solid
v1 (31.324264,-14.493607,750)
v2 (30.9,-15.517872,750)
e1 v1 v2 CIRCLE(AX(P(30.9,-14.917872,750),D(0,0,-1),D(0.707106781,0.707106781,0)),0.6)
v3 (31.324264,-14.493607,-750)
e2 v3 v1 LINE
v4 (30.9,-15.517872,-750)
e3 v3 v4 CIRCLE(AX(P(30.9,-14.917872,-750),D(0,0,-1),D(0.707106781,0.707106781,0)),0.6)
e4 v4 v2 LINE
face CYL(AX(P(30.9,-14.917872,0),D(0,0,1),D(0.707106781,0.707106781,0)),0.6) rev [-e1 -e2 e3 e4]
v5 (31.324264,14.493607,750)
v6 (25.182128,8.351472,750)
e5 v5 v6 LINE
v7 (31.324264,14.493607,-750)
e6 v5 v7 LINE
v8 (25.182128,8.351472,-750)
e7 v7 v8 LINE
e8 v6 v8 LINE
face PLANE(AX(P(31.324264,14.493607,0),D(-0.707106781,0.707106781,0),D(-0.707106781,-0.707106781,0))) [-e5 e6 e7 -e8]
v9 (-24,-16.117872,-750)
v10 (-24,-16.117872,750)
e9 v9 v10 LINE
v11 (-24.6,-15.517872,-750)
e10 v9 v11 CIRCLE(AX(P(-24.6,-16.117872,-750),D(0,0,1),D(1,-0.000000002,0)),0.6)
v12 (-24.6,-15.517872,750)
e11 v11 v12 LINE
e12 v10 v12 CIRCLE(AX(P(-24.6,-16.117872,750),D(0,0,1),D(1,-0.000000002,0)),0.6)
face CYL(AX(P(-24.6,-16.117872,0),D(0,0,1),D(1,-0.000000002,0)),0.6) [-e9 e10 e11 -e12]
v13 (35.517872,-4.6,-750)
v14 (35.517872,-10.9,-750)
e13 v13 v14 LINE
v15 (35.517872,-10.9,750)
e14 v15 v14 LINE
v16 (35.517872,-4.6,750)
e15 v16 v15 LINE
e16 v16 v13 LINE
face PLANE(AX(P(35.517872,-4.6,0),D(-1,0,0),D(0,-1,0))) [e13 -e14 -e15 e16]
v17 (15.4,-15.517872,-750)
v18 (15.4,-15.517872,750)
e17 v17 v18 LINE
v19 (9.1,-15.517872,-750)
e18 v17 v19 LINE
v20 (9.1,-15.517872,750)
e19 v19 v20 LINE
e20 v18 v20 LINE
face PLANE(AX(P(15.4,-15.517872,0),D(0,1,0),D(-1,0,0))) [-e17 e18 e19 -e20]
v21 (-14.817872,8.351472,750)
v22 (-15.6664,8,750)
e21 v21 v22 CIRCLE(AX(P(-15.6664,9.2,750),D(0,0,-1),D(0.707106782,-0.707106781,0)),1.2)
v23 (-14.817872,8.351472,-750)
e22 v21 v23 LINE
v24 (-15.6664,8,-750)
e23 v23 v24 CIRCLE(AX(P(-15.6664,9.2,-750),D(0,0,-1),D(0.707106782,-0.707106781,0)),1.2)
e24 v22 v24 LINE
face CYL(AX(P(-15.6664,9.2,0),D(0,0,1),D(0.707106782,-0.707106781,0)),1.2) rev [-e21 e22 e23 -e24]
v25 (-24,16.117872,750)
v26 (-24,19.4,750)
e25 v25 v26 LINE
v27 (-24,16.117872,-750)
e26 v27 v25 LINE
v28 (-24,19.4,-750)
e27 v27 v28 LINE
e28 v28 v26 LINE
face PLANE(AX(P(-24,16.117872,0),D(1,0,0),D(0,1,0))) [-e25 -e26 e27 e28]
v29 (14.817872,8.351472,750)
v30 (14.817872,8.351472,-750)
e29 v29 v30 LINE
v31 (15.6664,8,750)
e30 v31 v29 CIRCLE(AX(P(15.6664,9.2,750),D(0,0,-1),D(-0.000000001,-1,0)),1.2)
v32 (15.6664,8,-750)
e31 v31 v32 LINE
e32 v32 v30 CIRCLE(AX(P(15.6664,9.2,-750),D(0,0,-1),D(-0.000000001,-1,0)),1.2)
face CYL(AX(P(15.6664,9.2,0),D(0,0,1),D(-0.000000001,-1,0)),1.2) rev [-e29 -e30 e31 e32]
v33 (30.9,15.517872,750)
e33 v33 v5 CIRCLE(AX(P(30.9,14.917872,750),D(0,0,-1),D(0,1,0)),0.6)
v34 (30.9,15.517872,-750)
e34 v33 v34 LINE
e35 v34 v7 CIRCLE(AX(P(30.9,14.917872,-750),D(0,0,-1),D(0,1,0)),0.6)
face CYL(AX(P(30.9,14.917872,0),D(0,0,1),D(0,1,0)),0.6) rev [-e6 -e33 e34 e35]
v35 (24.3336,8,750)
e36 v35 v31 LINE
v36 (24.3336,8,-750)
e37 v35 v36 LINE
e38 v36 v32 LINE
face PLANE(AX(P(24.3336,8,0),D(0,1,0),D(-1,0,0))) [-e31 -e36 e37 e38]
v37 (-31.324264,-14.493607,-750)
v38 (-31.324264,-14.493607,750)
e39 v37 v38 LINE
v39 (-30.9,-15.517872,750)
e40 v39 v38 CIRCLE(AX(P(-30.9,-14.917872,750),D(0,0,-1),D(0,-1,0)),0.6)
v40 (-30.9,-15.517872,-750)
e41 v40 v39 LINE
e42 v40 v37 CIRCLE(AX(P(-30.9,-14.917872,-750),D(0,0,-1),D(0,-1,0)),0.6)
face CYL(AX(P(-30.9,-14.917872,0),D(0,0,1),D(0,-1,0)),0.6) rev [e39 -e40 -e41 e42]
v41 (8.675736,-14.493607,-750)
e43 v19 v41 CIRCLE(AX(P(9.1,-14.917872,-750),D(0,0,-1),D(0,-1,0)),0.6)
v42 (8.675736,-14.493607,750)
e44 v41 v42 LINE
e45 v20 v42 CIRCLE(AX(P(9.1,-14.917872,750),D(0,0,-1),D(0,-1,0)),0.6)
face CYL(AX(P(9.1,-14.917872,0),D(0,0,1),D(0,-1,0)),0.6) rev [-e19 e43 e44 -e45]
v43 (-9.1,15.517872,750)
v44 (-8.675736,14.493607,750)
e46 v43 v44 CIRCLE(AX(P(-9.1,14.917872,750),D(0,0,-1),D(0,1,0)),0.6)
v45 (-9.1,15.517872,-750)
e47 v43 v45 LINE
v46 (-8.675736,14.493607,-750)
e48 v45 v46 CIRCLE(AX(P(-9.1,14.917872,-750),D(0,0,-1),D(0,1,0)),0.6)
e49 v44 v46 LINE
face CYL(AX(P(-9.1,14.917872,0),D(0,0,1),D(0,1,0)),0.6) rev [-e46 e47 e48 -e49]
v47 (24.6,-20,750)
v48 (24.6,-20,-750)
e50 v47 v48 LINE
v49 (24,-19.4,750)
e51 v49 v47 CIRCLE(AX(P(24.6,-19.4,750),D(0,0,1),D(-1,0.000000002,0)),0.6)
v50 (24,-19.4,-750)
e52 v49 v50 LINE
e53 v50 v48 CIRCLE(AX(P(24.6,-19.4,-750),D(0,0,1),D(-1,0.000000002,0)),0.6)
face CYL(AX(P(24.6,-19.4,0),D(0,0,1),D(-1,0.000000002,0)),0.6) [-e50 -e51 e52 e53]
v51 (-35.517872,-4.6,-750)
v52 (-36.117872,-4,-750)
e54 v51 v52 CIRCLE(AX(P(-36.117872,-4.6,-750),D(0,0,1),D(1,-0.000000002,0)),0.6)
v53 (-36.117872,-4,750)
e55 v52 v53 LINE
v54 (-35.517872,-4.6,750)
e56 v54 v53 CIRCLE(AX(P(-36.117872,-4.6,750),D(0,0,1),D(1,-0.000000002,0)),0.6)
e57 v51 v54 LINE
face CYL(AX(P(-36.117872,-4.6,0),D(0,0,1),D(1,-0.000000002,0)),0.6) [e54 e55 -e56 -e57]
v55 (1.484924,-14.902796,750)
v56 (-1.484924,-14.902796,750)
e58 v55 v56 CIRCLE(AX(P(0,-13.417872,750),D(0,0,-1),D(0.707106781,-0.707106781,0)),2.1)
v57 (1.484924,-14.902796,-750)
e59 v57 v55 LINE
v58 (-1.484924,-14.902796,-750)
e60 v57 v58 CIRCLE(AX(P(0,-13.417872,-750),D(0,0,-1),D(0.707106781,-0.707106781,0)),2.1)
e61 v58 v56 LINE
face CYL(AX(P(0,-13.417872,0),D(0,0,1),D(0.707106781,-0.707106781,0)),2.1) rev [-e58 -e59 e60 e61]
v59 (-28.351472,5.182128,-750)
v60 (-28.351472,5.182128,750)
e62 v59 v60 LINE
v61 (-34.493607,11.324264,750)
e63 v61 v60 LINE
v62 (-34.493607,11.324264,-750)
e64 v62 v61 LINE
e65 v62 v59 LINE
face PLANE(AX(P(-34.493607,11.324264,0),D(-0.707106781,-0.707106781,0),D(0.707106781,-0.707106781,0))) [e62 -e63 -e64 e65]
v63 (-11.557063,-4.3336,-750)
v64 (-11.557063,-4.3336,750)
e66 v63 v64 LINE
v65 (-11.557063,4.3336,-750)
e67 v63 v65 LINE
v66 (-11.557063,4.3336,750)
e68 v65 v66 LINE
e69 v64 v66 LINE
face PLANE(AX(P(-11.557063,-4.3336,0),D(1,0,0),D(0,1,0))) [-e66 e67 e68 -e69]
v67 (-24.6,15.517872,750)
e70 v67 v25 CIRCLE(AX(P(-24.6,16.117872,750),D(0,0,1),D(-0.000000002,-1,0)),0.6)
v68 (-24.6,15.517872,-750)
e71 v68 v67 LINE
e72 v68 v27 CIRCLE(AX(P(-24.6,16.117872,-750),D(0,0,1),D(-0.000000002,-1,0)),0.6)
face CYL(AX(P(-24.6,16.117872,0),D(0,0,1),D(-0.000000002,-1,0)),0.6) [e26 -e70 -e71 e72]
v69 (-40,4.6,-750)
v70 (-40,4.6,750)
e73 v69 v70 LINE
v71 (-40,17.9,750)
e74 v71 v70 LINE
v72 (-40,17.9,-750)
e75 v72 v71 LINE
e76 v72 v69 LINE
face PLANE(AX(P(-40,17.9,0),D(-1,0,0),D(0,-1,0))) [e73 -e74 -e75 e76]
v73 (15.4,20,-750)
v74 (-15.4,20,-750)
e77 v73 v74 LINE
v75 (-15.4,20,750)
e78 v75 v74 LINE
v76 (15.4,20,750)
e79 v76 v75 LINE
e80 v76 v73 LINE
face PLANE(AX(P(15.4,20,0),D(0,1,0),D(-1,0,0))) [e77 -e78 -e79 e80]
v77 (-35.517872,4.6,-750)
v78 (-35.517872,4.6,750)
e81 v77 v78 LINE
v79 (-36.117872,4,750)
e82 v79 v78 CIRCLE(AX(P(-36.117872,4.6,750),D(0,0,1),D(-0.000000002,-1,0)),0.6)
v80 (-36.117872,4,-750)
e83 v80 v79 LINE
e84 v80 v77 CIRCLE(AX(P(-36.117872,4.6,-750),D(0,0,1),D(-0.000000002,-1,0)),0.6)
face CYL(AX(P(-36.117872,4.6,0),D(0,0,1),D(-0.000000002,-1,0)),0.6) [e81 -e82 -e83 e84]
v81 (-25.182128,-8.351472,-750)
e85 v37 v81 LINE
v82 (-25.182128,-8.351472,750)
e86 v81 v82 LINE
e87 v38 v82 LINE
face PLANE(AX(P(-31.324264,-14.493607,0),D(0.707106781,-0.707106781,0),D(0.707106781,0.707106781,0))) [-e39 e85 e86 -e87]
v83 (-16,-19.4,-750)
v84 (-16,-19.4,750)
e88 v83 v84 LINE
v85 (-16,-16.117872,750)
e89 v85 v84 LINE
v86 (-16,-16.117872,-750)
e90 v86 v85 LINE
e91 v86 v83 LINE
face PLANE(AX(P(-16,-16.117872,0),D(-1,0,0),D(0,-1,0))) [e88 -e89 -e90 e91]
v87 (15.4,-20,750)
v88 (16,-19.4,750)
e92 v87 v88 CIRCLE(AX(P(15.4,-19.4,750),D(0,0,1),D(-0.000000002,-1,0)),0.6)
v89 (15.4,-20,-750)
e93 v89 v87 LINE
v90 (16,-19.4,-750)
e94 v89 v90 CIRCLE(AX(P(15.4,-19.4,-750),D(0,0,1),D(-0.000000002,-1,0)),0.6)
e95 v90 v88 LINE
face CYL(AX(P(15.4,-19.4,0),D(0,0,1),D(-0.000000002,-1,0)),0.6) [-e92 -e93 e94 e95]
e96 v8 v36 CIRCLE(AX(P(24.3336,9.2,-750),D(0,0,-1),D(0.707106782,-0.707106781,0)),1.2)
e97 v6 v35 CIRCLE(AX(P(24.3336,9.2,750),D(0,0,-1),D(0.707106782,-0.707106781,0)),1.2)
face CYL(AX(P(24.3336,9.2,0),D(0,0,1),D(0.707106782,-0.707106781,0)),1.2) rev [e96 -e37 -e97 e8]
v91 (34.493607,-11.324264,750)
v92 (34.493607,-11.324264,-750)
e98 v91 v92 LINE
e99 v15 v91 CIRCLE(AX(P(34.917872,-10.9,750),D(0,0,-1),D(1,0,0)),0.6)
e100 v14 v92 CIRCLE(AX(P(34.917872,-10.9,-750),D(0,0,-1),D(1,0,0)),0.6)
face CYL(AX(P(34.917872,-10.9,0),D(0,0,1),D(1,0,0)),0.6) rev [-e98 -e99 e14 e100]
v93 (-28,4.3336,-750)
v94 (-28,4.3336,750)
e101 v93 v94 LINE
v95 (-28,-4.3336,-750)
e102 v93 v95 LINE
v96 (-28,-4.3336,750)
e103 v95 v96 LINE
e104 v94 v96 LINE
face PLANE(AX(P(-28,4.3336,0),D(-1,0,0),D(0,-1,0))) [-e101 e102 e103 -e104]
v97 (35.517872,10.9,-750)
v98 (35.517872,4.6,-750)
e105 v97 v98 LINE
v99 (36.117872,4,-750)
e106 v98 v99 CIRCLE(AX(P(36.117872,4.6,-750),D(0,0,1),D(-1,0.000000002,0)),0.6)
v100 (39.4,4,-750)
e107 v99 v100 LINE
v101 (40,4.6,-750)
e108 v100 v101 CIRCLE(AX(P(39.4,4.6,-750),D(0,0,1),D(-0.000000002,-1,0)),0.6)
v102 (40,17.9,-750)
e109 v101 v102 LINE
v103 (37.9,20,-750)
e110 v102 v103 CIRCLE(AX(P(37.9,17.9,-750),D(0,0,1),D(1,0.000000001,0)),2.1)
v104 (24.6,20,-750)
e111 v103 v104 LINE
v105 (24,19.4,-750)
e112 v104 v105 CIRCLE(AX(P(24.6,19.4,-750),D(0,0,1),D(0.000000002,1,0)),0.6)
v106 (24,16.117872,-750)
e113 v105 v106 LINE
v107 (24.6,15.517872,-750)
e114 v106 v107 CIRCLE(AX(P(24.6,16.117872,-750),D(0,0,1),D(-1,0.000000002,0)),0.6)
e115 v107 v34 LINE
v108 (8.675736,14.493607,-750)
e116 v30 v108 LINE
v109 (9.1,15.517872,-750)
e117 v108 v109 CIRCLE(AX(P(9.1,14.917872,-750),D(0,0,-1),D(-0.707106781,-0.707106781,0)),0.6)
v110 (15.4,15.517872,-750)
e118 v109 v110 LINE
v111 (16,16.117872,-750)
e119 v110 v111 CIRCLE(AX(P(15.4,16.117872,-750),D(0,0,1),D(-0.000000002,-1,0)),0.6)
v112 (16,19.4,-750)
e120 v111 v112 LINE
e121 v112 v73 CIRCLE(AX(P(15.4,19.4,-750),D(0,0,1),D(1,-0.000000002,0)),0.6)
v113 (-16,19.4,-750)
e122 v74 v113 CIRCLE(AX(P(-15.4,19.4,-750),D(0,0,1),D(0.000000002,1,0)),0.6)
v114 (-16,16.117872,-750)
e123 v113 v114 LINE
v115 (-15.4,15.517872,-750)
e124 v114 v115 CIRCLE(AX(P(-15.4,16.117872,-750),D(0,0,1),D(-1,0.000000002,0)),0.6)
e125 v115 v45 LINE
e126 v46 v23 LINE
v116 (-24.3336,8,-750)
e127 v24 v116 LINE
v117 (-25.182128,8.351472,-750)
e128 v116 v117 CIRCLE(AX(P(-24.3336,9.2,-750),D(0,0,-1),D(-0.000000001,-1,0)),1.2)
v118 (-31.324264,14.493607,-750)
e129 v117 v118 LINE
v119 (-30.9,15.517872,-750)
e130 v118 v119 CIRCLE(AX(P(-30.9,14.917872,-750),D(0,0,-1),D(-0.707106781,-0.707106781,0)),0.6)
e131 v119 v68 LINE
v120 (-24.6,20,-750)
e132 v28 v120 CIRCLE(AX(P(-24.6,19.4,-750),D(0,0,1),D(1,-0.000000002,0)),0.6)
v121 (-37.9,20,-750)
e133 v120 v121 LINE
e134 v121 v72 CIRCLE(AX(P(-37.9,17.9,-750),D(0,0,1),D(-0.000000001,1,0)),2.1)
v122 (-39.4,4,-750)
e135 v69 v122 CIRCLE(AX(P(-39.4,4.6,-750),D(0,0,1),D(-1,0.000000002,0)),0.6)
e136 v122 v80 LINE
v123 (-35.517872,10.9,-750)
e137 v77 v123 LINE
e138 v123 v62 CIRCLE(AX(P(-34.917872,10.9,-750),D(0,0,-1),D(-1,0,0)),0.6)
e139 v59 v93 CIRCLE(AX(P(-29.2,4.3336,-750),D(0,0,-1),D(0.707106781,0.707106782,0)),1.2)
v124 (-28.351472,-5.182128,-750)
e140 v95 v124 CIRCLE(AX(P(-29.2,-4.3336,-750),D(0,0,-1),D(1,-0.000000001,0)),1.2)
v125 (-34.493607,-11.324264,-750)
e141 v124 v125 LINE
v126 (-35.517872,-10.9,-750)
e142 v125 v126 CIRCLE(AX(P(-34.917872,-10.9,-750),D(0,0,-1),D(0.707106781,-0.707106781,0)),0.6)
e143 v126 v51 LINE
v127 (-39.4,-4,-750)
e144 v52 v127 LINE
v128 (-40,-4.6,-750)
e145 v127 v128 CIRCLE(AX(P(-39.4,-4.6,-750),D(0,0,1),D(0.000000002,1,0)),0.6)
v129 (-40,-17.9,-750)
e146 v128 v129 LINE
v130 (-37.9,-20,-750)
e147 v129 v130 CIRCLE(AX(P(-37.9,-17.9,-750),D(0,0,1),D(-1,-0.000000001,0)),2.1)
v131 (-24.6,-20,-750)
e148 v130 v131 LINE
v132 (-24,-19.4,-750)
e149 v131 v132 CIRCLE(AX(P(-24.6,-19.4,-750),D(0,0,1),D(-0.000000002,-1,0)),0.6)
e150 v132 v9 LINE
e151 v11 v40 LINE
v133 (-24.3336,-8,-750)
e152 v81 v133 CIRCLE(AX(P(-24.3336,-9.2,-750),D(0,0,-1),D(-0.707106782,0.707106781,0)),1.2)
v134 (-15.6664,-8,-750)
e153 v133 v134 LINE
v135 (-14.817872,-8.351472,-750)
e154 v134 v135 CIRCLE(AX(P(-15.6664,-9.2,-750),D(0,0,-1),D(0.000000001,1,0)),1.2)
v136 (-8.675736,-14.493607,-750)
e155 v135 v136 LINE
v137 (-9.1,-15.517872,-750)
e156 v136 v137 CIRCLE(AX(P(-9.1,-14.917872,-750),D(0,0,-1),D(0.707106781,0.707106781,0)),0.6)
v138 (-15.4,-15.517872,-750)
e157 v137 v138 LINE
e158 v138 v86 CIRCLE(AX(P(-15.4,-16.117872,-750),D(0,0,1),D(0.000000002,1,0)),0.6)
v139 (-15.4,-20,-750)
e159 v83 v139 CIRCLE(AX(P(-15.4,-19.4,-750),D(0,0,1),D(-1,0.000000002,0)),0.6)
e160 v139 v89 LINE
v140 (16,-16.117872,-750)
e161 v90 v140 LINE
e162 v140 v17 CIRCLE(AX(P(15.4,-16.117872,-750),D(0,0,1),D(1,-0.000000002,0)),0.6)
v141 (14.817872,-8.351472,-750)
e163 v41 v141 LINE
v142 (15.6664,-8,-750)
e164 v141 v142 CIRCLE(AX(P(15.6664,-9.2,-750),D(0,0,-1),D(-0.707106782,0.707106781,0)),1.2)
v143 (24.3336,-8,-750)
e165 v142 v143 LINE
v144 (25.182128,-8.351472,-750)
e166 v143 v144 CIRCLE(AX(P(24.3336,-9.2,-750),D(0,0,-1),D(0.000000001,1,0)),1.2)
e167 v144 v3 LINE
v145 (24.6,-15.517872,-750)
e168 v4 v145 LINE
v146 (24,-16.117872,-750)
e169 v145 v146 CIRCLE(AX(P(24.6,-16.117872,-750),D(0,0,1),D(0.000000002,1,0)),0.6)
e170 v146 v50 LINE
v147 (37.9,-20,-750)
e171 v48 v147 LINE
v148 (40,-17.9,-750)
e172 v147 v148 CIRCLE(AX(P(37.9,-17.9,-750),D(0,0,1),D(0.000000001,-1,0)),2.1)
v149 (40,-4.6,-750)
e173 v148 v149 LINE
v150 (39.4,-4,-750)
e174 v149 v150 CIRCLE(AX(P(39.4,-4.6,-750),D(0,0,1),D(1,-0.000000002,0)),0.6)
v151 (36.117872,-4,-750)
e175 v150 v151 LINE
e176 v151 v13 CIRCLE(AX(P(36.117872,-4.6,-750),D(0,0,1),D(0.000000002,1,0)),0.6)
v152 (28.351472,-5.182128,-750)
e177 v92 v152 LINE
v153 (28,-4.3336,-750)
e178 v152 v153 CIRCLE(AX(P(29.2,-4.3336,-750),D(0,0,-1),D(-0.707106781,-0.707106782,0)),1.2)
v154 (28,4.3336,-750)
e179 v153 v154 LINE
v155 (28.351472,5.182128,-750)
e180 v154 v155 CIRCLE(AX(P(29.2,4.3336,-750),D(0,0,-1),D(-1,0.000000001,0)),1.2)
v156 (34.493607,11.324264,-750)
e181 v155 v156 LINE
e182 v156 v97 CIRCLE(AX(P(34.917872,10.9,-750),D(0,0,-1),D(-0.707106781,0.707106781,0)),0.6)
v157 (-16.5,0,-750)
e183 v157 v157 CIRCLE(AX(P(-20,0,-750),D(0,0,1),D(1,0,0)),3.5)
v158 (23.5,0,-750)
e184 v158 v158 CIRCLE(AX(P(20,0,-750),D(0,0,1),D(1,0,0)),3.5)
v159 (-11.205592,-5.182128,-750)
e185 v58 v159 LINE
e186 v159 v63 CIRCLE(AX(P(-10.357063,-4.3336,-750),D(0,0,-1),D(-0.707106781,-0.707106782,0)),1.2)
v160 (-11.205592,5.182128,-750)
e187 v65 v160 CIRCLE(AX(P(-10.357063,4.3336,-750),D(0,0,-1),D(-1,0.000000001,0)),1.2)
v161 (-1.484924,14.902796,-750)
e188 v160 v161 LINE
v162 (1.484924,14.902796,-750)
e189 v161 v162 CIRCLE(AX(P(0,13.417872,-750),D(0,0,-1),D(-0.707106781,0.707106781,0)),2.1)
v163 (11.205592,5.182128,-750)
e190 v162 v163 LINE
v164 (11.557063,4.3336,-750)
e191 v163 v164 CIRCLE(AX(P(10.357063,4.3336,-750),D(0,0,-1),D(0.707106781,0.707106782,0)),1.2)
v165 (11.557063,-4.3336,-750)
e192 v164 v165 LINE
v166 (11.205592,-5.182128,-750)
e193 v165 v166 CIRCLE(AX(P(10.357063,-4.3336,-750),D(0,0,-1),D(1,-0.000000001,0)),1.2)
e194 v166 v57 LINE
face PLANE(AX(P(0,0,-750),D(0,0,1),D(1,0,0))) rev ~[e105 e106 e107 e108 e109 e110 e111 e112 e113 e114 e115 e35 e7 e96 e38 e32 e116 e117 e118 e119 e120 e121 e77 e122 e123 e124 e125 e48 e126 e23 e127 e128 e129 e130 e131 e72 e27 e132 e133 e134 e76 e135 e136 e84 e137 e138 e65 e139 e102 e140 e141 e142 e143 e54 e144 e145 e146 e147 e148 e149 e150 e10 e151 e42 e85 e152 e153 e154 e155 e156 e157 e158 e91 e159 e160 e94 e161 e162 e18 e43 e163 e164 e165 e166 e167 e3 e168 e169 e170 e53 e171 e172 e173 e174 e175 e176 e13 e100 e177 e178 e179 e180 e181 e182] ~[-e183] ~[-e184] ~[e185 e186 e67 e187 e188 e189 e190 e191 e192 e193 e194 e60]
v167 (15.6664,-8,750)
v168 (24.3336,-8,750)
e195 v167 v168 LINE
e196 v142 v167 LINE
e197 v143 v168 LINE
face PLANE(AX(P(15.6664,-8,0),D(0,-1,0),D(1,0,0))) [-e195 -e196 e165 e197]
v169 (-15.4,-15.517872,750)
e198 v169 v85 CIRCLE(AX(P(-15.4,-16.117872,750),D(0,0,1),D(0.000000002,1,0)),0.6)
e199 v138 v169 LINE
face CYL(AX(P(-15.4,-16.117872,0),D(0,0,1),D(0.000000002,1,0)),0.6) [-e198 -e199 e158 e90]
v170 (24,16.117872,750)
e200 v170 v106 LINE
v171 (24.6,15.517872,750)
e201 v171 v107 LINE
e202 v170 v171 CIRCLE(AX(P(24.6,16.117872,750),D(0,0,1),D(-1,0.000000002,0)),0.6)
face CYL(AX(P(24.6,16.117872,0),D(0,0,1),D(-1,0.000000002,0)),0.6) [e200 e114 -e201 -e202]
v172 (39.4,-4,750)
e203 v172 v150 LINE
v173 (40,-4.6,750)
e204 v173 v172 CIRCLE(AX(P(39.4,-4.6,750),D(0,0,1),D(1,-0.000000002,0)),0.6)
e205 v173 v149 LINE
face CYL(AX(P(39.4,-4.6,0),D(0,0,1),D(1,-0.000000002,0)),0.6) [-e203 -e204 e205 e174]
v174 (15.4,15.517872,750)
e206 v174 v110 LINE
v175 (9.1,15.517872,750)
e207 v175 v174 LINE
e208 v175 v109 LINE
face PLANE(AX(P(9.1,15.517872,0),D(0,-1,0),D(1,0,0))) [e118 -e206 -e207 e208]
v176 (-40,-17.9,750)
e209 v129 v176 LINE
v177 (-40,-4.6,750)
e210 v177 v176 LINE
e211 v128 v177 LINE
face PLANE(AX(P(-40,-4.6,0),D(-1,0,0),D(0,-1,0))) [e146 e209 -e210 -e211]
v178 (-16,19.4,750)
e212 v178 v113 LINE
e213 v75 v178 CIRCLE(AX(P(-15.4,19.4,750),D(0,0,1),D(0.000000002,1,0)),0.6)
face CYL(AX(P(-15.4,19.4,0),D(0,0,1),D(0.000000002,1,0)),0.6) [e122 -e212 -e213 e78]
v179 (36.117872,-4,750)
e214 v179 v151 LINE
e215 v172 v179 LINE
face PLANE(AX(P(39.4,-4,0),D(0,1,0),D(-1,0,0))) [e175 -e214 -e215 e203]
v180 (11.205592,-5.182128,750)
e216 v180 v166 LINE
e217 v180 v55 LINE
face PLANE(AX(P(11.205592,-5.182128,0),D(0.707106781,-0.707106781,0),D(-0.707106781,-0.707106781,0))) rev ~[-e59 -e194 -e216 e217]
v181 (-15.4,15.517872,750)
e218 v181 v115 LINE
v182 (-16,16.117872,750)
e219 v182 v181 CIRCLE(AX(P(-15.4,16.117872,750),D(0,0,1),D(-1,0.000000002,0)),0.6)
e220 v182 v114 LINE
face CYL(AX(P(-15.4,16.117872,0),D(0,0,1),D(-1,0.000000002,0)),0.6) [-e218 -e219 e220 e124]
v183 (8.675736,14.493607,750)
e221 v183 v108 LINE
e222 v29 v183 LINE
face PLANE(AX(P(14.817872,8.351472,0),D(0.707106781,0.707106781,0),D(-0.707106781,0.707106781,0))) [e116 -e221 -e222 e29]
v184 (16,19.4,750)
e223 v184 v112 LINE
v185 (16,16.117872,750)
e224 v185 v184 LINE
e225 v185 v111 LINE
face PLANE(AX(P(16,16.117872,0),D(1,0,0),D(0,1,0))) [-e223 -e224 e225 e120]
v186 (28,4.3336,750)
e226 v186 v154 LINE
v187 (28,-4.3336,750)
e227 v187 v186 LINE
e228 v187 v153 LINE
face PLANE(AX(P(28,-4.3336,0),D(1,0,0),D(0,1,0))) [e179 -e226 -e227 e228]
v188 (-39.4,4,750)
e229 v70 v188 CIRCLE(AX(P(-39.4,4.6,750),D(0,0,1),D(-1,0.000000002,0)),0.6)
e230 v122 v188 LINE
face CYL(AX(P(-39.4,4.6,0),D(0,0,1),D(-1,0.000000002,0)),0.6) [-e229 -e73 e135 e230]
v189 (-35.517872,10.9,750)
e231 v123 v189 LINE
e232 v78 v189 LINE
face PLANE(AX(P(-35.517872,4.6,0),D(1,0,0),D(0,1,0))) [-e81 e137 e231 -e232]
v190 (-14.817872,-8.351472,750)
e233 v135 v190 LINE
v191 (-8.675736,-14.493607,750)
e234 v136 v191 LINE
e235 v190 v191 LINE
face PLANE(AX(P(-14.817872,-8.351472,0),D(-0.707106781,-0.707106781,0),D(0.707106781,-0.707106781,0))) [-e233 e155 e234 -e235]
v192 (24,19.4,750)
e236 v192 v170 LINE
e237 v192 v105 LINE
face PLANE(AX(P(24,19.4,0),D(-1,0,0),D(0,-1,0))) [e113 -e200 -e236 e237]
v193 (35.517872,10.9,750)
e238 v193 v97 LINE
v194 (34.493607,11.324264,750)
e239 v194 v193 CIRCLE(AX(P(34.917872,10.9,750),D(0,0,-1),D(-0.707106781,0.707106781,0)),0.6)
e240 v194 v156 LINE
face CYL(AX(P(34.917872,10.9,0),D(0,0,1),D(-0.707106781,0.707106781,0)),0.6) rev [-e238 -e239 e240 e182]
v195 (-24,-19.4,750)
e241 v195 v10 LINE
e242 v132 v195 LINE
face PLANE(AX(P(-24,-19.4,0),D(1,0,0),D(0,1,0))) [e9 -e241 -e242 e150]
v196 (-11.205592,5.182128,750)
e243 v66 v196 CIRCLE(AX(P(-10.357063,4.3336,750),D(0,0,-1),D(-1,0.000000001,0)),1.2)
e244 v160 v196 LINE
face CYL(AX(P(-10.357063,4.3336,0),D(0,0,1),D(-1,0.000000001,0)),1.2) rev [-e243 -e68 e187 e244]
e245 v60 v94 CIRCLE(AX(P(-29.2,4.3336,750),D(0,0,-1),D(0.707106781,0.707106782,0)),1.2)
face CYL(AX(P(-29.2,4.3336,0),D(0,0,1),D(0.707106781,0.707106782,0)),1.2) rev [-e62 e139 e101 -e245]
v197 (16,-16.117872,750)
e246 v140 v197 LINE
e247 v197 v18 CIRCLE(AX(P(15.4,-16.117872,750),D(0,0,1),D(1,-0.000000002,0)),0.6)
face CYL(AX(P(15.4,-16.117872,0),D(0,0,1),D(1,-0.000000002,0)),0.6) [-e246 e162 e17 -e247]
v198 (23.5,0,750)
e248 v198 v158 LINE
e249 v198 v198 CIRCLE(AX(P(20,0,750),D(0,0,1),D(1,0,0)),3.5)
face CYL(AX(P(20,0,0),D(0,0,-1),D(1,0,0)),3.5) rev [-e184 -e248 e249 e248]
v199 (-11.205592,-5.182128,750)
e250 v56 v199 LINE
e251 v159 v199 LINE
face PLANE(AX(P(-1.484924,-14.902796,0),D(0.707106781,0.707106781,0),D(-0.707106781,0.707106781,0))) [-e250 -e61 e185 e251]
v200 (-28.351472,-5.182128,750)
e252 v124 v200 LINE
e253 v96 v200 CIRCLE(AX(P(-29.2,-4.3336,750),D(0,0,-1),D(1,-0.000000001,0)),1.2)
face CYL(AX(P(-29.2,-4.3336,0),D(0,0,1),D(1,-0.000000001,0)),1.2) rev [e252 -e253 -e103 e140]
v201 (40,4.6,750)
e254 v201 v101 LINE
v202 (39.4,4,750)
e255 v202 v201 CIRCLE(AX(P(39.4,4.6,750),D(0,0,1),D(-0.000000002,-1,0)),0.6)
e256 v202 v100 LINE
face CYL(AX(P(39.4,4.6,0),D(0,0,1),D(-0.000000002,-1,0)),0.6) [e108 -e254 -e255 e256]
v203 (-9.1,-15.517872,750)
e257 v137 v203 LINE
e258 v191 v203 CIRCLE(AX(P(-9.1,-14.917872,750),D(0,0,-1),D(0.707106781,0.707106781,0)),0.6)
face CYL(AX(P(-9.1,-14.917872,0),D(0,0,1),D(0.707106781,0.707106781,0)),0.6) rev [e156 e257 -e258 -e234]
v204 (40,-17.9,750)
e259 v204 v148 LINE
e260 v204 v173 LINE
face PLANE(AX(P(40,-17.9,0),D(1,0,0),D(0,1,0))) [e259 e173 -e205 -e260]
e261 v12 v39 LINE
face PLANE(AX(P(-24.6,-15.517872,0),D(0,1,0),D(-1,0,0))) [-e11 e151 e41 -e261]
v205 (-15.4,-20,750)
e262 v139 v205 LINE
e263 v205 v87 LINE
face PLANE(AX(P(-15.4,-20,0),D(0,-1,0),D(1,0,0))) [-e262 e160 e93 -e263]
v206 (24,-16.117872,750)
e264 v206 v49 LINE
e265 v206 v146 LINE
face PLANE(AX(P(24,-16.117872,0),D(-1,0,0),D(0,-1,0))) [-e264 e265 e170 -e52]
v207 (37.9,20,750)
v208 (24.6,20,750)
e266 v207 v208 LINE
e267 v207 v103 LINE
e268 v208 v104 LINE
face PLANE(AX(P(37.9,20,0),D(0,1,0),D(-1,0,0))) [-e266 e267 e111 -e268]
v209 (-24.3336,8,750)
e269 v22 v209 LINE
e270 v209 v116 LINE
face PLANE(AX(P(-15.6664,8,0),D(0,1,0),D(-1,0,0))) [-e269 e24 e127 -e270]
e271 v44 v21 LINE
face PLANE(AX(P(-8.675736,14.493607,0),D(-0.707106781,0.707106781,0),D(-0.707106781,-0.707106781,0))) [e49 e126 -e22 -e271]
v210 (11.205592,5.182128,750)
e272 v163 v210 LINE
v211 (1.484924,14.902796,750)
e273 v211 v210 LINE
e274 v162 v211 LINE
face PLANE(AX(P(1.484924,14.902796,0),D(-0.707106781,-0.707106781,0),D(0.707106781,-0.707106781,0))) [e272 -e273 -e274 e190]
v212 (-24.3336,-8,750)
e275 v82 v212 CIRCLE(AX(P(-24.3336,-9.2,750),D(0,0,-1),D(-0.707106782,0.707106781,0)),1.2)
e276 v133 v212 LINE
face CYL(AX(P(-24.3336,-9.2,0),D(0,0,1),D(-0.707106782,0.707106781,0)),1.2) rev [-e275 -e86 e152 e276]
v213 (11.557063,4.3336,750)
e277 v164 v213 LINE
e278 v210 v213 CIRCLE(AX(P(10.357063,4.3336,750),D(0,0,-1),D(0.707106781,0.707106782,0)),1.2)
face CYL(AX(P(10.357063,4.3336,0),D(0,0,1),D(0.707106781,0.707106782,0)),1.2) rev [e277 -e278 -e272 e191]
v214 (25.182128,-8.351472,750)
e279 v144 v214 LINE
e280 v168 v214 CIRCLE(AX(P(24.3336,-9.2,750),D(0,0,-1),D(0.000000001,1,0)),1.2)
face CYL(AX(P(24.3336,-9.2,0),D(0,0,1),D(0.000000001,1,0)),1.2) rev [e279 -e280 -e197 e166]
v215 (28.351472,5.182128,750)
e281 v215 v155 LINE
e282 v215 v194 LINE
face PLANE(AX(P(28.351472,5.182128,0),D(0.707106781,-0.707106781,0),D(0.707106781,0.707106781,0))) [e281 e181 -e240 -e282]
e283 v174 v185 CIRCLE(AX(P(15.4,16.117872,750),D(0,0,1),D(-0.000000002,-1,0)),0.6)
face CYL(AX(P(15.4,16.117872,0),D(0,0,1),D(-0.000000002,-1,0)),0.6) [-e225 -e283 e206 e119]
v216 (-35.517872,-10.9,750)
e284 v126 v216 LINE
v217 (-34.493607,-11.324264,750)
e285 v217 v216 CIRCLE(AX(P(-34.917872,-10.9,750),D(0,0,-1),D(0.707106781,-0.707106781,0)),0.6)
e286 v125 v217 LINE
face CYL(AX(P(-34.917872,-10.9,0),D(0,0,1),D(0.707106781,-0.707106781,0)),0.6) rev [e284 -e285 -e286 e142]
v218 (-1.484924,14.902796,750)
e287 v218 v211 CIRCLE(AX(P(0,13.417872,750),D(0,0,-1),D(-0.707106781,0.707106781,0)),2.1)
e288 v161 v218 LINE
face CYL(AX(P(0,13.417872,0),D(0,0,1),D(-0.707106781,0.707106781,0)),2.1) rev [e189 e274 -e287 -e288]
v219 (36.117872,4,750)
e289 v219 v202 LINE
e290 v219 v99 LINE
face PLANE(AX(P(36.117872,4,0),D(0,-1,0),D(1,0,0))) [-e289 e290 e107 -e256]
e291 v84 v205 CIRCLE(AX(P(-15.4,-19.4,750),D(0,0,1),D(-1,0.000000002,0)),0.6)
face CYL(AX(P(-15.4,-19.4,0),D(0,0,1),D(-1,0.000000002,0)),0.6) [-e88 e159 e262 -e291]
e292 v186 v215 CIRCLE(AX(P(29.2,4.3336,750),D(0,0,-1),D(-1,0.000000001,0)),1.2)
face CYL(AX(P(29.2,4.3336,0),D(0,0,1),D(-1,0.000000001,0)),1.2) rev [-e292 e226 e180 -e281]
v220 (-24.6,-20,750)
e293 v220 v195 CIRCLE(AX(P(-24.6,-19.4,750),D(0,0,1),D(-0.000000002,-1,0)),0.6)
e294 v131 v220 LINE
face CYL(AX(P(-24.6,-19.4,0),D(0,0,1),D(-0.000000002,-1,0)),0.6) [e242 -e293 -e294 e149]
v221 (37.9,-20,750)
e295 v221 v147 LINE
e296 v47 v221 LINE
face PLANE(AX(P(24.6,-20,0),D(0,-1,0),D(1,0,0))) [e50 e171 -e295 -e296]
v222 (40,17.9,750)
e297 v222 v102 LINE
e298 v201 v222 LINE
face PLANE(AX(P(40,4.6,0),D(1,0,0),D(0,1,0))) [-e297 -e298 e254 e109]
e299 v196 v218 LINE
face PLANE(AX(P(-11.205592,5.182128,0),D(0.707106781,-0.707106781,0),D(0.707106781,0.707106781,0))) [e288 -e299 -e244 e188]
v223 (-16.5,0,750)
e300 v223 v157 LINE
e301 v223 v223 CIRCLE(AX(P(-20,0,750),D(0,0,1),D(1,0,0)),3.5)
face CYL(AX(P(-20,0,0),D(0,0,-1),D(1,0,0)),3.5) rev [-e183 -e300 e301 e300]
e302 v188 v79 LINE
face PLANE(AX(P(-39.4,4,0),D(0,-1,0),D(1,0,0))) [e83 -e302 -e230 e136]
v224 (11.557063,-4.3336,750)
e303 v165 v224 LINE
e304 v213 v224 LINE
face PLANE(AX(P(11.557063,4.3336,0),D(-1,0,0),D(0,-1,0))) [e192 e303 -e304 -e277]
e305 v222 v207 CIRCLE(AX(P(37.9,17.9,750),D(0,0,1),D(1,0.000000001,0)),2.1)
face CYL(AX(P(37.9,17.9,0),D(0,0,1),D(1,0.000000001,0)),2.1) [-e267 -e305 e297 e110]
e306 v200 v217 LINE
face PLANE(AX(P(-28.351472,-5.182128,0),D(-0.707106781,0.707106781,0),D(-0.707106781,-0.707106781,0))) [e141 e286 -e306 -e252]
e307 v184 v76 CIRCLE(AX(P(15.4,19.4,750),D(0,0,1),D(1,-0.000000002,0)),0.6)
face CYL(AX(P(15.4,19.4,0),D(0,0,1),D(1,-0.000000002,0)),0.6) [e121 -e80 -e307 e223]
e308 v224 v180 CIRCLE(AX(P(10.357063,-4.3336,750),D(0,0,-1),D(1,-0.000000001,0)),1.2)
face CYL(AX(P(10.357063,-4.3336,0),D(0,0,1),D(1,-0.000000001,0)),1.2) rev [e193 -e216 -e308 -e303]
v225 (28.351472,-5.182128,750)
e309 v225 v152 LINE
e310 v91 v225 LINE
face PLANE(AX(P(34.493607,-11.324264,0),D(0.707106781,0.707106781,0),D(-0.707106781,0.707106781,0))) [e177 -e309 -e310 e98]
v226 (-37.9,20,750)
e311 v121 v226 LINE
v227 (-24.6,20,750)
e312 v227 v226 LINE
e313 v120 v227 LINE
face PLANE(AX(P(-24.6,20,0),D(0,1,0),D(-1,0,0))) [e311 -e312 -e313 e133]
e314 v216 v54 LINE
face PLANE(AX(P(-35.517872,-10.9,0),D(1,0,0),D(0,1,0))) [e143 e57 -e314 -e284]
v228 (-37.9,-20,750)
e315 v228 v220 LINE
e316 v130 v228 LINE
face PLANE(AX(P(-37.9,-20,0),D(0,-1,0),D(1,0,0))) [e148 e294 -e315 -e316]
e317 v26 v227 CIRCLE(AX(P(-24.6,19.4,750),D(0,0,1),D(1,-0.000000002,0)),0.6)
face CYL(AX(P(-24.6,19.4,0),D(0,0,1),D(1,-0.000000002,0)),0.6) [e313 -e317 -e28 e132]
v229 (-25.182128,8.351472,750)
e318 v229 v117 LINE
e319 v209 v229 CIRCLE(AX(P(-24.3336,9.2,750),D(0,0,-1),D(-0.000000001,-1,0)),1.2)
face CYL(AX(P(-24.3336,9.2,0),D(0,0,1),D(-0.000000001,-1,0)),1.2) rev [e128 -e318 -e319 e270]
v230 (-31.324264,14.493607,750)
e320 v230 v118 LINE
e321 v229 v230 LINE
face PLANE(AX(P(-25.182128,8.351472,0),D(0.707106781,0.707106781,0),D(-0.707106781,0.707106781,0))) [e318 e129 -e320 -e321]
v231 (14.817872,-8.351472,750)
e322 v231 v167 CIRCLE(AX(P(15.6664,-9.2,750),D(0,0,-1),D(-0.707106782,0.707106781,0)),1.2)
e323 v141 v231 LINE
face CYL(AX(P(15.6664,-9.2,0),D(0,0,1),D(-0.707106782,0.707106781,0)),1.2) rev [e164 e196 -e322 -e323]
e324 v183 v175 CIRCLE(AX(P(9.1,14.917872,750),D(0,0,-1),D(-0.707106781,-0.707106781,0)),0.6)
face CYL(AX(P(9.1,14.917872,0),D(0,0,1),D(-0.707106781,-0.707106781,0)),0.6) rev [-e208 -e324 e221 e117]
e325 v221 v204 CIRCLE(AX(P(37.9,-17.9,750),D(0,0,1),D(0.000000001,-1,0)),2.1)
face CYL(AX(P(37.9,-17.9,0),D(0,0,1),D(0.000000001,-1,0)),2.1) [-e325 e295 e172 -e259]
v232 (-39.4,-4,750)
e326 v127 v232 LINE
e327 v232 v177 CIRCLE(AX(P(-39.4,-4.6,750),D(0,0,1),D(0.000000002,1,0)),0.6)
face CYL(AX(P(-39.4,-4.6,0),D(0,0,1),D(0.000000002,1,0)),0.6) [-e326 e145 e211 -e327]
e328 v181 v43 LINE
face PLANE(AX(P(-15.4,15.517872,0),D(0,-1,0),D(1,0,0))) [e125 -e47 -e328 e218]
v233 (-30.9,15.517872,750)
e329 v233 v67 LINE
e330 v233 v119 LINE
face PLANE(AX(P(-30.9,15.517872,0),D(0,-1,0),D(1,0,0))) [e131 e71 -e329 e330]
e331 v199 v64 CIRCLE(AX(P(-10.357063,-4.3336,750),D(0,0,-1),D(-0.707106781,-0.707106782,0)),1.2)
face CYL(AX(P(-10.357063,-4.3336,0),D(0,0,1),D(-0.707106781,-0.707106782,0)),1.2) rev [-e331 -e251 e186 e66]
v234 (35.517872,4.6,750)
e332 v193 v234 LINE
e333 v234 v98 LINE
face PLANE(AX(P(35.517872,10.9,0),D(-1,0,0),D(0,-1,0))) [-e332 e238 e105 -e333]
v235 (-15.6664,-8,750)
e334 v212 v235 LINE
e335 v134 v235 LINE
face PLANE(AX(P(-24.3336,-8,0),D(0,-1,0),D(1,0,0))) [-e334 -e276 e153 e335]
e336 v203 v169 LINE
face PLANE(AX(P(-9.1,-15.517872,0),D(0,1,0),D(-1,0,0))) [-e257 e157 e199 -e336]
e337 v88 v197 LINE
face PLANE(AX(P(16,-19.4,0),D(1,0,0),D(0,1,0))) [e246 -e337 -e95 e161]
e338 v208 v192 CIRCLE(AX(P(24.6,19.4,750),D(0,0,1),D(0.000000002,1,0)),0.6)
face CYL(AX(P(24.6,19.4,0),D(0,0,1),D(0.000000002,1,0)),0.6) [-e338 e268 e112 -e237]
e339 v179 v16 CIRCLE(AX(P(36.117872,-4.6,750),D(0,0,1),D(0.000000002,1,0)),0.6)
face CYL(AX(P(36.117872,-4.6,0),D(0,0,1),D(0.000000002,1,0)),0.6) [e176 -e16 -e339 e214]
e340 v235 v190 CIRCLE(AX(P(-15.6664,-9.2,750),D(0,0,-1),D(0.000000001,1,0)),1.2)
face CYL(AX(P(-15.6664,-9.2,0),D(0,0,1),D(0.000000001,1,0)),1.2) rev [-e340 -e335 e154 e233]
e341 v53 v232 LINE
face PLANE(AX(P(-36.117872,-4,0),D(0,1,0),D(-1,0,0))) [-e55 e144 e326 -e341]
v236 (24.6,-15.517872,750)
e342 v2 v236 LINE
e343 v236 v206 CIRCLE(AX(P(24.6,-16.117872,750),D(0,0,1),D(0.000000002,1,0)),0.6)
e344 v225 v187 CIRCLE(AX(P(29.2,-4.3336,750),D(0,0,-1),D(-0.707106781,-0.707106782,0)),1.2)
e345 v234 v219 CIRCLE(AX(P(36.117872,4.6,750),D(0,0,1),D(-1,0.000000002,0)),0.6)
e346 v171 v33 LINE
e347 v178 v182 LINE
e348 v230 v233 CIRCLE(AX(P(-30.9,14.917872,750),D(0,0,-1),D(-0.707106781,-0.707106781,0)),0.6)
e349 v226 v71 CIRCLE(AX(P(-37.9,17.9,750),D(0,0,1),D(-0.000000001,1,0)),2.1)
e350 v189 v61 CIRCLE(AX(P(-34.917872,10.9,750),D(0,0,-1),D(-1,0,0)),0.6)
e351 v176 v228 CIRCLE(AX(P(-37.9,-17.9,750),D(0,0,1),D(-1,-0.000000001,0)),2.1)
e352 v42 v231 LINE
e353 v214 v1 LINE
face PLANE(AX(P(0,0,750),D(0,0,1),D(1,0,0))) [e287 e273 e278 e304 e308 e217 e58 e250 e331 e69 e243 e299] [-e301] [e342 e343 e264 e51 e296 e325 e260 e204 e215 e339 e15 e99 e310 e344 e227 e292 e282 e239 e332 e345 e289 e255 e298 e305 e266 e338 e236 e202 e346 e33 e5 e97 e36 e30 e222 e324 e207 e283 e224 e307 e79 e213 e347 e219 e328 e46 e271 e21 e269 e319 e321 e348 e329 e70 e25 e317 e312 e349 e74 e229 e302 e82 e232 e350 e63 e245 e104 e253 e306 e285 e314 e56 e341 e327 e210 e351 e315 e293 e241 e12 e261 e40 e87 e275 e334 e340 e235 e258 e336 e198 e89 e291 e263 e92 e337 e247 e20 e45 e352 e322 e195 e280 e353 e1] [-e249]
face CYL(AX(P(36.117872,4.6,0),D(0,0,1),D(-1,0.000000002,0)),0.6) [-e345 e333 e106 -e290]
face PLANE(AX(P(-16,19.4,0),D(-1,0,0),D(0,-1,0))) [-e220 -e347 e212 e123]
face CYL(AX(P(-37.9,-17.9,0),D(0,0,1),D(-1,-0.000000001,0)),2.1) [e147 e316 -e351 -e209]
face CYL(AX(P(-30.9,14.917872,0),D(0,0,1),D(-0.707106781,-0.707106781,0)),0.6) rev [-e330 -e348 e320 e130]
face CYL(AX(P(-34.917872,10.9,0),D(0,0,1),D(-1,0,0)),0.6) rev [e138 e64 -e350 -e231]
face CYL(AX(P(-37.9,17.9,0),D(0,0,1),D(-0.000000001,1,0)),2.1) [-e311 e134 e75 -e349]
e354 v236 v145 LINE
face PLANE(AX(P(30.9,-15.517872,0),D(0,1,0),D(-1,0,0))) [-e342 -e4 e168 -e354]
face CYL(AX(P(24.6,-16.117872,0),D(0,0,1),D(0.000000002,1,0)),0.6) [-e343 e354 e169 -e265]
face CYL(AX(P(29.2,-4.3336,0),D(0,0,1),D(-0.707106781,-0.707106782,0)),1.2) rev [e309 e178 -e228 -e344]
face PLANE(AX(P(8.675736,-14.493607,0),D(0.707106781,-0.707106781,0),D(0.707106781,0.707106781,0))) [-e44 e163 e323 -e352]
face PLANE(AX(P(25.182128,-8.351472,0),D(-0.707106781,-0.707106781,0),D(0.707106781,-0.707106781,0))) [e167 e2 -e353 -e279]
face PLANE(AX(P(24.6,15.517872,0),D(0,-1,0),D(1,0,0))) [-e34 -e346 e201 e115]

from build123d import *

# Parameters (mm, degrees)
SKETCH1_R           = 3.5
BOSS_EXTRUDE1_DEPTH = 750


with BuildPart() as part:
    # Sketch1 → Boss-Extrude1 (new, symmetric)
    with BuildSketch(Plane.XY):
        with BuildLine():
            Line((-30.9, 15.517871555), (-24.6, 15.517871555))
            ThreePointArc((-24.6, 15.517871555), (-24.175735931, 15.693607486), (-24, 16.117871555))
            Line((-24, 16.117871555), (-24, 19.4))
            ThreePointArc((-24, 19.4), (-24.175735931, 19.824264069), (-24.6, 20))
            Line((-24.6, 20), (-37.9, 20))
            ThreePointArc((-37.9, 20), (-39.38492424, 19.38492424), (-40, 17.9))
            Line((-40, 17.9), (-40, 4.6))
            ThreePointArc((-40, 4.6), (-39.824264069, 4.175735931), (-39.4, 4))
            Line((-39.4, 4), (-36.117871555, 4))
            ThreePointArc((-36.117871555, 4), (-35.693607486, 4.175735931), (-35.517871555, 4.6))
            Line((-35.517871555, 4.6), (-35.517871555, 10.9))
            ThreePointArc((-35.517871555, 10.9), (-35.147481614, 11.45432772), (-34.493607486, 11.324264069))
            Line((-34.493607486, 11.324264069), (-28.351471863, 5.182128445))
            ThreePointArc((-28.351471863, 5.182128445), (-28.091344561, 4.792820426), (-28, 4.333600308))
            Line((-28, 4.333600308), (-28, -4.333600308))
            ThreePointArc((-28, -4.333600308), (-28.091344561, -4.792820426), (-28.351471863, -5.182128445))
            Line((-28.351471863, -5.182128445), (-34.493607486, -11.324264069))
            ThreePointArc((-34.493607486, -11.324264069), (-35.147481614, -11.45432772), (-35.517871555, -10.9))
            Line((-35.517871555, -10.9), (-35.517871555, -4.6))
            ThreePointArc((-35.517871555, -4.6), (-35.693607486, -4.175735931), (-36.117871555, -4))
            Line((-36.117871555, -4), (-39.4, -4))
            ThreePointArc((-39.4, -4), (-39.824264069, -4.175735931), (-40, -4.6))
            Line((-40, -4.6), (-40, -17.9))
            ThreePointArc((-40, -17.9), (-39.38492424, -19.38492424), (-37.9, -20))
            Line((-37.9, -20), (-24.6, -20))
            ThreePointArc((-24.6, -20), (-24.175735931, -19.824264069), (-24, -19.4))
            Line((-24, -19.4), (-24, -16.117871555))
            ThreePointArc((-24, -16.117871555), (-24.175735931, -15.693607486), (-24.6, -15.517871555))
            Line((-24.6, -15.517871555), (-30.9, -15.517871555))
            ThreePointArc((-30.9, -15.517871555), (-31.45432772, -15.147481614), (-31.324264069, -14.493607486))
            Line((-31.324264069, -14.493607486), (-25.182128445, -8.351471863))
            ThreePointArc((-25.182128445, -8.351471863), (-24.792820426, -8.091344561), (-24.333600308, -8))
            Line((-24.333600308, -8), (-15.666399692, -8))
            ThreePointArc((-15.666399692, -8), (-15.207179574, -8.091344561), (-14.817871555, -8.351471863))
            Line((-14.817871555, -8.351471863), (-8.675735931, -14.493607486))
            ThreePointArc((-8.675735931, -14.493607486), (-8.54567228, -15.147481614), (-9.1, -15.517871555))
            Line((-9.1, -15.517871555), (-15.4, -15.517871555))
            ThreePointArc((-15.4, -15.517871555), (-15.824264069, -15.693607486), (-16, -16.117871555))
            Line((-16, -16.117871555), (-16, -19.4))
            ThreePointArc((-16, -19.4), (-15.824264069, -19.824264069), (-15.4, -20))
            Line((-15.4, -20), (15.4, -20))
            ThreePointArc((15.4, -20), (15.824264069, -19.824264069), (16, -19.4))
            Line((16, -19.4), (16, -16.117871555))
            ThreePointArc((16, -16.117871555), (15.824264069, -15.693607486), (15.4, -15.517871555))
            Line((15.4, -15.517871555), (9.1, -15.517871555))
            ThreePointArc((9.1, -15.517871555), (8.54567228, -15.147481614), (8.675735931, -14.493607486))
            Line((8.675735931, -14.493607486), (14.817871555, -8.351471863))
            ThreePointArc((14.817871555, -8.351471863), (15.207179574, -8.091344561), (15.666399692, -8))
            Line((15.666399692, -8), (24.333600308, -8))
            ThreePointArc((24.333600308, -8), (24.792820426, -8.091344561), (25.182128445, -8.351471863))
            Line((25.182128445, -8.351471863), (31.324264069, -14.493607486))
            ThreePointArc((31.324264069, -14.493607486), (31.45432772, -15.147481614), (30.9, -15.517871555))
            Line((30.9, -15.517871555), (24.6, -15.517871555))
            ThreePointArc((24.6, -15.517871555), (24.175735931, -15.693607486), (24, -16.117871555))
            Line((24, -16.117871555), (24, -19.4))
            ThreePointArc((24, -19.4), (24.175735931, -19.824264069), (24.6, -20))
            Line((24.6, -20), (37.9, -20))
            ThreePointArc((37.9, -20), (39.38492424, -19.38492424), (40, -17.9))
            Line((40, -17.9), (40, -4.6))
            ThreePointArc((40, -4.6), (39.824264069, -4.175735931), (39.4, -4))
            Line((39.4, -4), (36.117871555, -4))
            ThreePointArc((36.117871555, -4), (35.693607486, -4.175735931), (35.517871555, -4.6))
            Line((35.517871555, -4.6), (35.517871555, -10.9))
            ThreePointArc((35.517871555, -10.9), (35.147481614, -11.45432772), (34.493607486, -11.324264069))
            Line((34.493607486, -11.324264069), (28.351471863, -5.182128445))
            ThreePointArc((28.351471863, -5.182128445), (28.091344561, -4.792820426), (28, -4.333600308))
            Line((28, -4.333600308), (28, 4.333600308))
            ThreePointArc((28, 4.333600308), (28.091344561, 4.792820426), (28.351471863, 5.182128445))
            Line((28.351471863, 5.182128445), (34.493607486, 11.324264069))
            ThreePointArc((34.493607486, 11.324264069), (35.147481614, 11.45432772), (35.517871555, 10.9))
            Line((35.517871555, 10.9), (35.517871555, 4.6))
            ThreePointArc((35.517871555, 4.6), (35.693607486, 4.175735931), (36.117871555, 4))
            Line((36.117871555, 4), (39.4, 4))
            ThreePointArc((39.4, 4), (39.824264069, 4.175735931), (40, 4.6))
            Line((40, 4.6), (40, 17.9))
            ThreePointArc((40, 17.9), (39.38492424, 19.38492424), (37.9, 20))
            Line((37.9, 20), (24.6, 20))
            ThreePointArc((24.6, 20), (24.175735931, 19.824264069), (24, 19.4))
            Line((24, 19.4), (24, 16.117871555))
            ThreePointArc((24, 16.117871555), (24.175735931, 15.693607486), (24.6, 15.517871555))
            Line((24.6, 15.517871555), (30.9, 15.517871555))
            ThreePointArc((30.9, 15.517871555), (31.45432772, 15.147481614), (31.324264069, 14.493607486))
            Line((31.324264069, 14.493607486), (25.182128445, 8.351471863))
            ThreePointArc((25.182128445, 8.351471863), (24.792820426, 8.091344561), (24.333600308, 8))
            Line((24.333600308, 8), (15.666399692, 8))
            ThreePointArc((15.666399692, 8), (15.207179574, 8.091344561), (14.817871555, 8.351471863))
            Line((14.817871555, 8.351471863), (8.675735931, 14.493607486))
            ThreePointArc((8.675735931, 14.493607486), (8.54567228, 15.147481614), (9.1, 15.517871555))
            Line((9.1, 15.517871555), (15.4, 15.517871555))
            ThreePointArc((15.4, 15.517871555), (15.824264069, 15.693607486), (16, 16.117871555))
            Line((16, 16.117871555), (16, 19.4))
            ThreePointArc((16, 19.4), (15.824264069, 19.824264069), (15.4, 20))
            Line((15.4, 20), (-15.4, 20))
            ThreePointArc((-15.4, 20), (-15.824264069, 19.824264069), (-16, 19.4))
            Line((-16, 19.4), (-16, 16.117871555))
            ThreePointArc((-16, 16.117871555), (-15.824264069, 15.693607486), (-15.4, 15.517871555))
            Line((-15.4, 15.517871555), (-9.1, 15.517871555))
            ThreePointArc((-9.1, 15.517871555), (-8.54567228, 15.147481614), (-8.675735931, 14.493607486))
            Line((-8.675735931, 14.493607486), (-14.817871555, 8.351471863))
            ThreePointArc((-14.817871555, 8.351471863), (-15.207179574, 8.091344561), (-15.666399692, 8))
            Line((-15.666399692, 8), (-24.333600308, 8))
            ThreePointArc((-24.333600308, 8), (-24.792820426, 8.091344561), (-25.182128445, 8.351471863))
            Line((-25.182128445, 8.351471863), (-31.324264069, 14.493607486))
            ThreePointArc((-31.324264069, 14.493607486), (-31.45432772, 15.147481614), (-30.9, 15.517871555))
        make_face()
        with Locations((20, 0)):
            Circle(SKETCH1_R, mode=Mode.SUBTRACT)
        with Locations((-20, 0)):
            Circle(SKETCH1_R, mode=Mode.SUBTRACT)
        with BuildLine():
            Line((11.205591591, -5.182128445), (1.48492424, -14.902795796))
            ThreePointArc((1.48492424, -14.902795796), (0, -15.517871555), (-1.48492424, -14.902795796))
            Line((-1.48492424, -14.902795796), (-11.205591591, -5.182128445))
            ThreePointArc((-11.205591591, -5.182128445), (-11.465718893, -4.792820426), (-11.557063454, -4.333600308))
            Line((-11.557063454, -4.333600308), (-11.557063454, 4.333600308))
            ThreePointArc((-11.557063454, 4.333600308), (-11.465718893, 4.792820426), (-11.205591591, 5.182128445))
            Line((-11.205591591, 5.182128445), (-1.48492424, 14.902795796))
            ThreePointArc((-1.48492424, 14.902795796), (0, 15.517871555), (1.48492424, 14.902795796))
            Line((1.48492424, 14.902795796), (11.205591591, 5.182128445))
            ThreePointArc((11.205591591, 5.182128445), (11.465718893, 4.792820426), (11.557063454, 4.333600308))
            Line((11.557063454, 4.333600308), (11.557063454, -4.333600308))
            ThreePointArc((11.557063454, -4.333600308), (11.465718893, -4.792820426), (11.205591591, -5.182128445))
        make_face(mode=Mode.SUBTRACT)
    extrude(amount=BOSS_EXTRUDE1_DEPTH, both=True)


solid = part.part
